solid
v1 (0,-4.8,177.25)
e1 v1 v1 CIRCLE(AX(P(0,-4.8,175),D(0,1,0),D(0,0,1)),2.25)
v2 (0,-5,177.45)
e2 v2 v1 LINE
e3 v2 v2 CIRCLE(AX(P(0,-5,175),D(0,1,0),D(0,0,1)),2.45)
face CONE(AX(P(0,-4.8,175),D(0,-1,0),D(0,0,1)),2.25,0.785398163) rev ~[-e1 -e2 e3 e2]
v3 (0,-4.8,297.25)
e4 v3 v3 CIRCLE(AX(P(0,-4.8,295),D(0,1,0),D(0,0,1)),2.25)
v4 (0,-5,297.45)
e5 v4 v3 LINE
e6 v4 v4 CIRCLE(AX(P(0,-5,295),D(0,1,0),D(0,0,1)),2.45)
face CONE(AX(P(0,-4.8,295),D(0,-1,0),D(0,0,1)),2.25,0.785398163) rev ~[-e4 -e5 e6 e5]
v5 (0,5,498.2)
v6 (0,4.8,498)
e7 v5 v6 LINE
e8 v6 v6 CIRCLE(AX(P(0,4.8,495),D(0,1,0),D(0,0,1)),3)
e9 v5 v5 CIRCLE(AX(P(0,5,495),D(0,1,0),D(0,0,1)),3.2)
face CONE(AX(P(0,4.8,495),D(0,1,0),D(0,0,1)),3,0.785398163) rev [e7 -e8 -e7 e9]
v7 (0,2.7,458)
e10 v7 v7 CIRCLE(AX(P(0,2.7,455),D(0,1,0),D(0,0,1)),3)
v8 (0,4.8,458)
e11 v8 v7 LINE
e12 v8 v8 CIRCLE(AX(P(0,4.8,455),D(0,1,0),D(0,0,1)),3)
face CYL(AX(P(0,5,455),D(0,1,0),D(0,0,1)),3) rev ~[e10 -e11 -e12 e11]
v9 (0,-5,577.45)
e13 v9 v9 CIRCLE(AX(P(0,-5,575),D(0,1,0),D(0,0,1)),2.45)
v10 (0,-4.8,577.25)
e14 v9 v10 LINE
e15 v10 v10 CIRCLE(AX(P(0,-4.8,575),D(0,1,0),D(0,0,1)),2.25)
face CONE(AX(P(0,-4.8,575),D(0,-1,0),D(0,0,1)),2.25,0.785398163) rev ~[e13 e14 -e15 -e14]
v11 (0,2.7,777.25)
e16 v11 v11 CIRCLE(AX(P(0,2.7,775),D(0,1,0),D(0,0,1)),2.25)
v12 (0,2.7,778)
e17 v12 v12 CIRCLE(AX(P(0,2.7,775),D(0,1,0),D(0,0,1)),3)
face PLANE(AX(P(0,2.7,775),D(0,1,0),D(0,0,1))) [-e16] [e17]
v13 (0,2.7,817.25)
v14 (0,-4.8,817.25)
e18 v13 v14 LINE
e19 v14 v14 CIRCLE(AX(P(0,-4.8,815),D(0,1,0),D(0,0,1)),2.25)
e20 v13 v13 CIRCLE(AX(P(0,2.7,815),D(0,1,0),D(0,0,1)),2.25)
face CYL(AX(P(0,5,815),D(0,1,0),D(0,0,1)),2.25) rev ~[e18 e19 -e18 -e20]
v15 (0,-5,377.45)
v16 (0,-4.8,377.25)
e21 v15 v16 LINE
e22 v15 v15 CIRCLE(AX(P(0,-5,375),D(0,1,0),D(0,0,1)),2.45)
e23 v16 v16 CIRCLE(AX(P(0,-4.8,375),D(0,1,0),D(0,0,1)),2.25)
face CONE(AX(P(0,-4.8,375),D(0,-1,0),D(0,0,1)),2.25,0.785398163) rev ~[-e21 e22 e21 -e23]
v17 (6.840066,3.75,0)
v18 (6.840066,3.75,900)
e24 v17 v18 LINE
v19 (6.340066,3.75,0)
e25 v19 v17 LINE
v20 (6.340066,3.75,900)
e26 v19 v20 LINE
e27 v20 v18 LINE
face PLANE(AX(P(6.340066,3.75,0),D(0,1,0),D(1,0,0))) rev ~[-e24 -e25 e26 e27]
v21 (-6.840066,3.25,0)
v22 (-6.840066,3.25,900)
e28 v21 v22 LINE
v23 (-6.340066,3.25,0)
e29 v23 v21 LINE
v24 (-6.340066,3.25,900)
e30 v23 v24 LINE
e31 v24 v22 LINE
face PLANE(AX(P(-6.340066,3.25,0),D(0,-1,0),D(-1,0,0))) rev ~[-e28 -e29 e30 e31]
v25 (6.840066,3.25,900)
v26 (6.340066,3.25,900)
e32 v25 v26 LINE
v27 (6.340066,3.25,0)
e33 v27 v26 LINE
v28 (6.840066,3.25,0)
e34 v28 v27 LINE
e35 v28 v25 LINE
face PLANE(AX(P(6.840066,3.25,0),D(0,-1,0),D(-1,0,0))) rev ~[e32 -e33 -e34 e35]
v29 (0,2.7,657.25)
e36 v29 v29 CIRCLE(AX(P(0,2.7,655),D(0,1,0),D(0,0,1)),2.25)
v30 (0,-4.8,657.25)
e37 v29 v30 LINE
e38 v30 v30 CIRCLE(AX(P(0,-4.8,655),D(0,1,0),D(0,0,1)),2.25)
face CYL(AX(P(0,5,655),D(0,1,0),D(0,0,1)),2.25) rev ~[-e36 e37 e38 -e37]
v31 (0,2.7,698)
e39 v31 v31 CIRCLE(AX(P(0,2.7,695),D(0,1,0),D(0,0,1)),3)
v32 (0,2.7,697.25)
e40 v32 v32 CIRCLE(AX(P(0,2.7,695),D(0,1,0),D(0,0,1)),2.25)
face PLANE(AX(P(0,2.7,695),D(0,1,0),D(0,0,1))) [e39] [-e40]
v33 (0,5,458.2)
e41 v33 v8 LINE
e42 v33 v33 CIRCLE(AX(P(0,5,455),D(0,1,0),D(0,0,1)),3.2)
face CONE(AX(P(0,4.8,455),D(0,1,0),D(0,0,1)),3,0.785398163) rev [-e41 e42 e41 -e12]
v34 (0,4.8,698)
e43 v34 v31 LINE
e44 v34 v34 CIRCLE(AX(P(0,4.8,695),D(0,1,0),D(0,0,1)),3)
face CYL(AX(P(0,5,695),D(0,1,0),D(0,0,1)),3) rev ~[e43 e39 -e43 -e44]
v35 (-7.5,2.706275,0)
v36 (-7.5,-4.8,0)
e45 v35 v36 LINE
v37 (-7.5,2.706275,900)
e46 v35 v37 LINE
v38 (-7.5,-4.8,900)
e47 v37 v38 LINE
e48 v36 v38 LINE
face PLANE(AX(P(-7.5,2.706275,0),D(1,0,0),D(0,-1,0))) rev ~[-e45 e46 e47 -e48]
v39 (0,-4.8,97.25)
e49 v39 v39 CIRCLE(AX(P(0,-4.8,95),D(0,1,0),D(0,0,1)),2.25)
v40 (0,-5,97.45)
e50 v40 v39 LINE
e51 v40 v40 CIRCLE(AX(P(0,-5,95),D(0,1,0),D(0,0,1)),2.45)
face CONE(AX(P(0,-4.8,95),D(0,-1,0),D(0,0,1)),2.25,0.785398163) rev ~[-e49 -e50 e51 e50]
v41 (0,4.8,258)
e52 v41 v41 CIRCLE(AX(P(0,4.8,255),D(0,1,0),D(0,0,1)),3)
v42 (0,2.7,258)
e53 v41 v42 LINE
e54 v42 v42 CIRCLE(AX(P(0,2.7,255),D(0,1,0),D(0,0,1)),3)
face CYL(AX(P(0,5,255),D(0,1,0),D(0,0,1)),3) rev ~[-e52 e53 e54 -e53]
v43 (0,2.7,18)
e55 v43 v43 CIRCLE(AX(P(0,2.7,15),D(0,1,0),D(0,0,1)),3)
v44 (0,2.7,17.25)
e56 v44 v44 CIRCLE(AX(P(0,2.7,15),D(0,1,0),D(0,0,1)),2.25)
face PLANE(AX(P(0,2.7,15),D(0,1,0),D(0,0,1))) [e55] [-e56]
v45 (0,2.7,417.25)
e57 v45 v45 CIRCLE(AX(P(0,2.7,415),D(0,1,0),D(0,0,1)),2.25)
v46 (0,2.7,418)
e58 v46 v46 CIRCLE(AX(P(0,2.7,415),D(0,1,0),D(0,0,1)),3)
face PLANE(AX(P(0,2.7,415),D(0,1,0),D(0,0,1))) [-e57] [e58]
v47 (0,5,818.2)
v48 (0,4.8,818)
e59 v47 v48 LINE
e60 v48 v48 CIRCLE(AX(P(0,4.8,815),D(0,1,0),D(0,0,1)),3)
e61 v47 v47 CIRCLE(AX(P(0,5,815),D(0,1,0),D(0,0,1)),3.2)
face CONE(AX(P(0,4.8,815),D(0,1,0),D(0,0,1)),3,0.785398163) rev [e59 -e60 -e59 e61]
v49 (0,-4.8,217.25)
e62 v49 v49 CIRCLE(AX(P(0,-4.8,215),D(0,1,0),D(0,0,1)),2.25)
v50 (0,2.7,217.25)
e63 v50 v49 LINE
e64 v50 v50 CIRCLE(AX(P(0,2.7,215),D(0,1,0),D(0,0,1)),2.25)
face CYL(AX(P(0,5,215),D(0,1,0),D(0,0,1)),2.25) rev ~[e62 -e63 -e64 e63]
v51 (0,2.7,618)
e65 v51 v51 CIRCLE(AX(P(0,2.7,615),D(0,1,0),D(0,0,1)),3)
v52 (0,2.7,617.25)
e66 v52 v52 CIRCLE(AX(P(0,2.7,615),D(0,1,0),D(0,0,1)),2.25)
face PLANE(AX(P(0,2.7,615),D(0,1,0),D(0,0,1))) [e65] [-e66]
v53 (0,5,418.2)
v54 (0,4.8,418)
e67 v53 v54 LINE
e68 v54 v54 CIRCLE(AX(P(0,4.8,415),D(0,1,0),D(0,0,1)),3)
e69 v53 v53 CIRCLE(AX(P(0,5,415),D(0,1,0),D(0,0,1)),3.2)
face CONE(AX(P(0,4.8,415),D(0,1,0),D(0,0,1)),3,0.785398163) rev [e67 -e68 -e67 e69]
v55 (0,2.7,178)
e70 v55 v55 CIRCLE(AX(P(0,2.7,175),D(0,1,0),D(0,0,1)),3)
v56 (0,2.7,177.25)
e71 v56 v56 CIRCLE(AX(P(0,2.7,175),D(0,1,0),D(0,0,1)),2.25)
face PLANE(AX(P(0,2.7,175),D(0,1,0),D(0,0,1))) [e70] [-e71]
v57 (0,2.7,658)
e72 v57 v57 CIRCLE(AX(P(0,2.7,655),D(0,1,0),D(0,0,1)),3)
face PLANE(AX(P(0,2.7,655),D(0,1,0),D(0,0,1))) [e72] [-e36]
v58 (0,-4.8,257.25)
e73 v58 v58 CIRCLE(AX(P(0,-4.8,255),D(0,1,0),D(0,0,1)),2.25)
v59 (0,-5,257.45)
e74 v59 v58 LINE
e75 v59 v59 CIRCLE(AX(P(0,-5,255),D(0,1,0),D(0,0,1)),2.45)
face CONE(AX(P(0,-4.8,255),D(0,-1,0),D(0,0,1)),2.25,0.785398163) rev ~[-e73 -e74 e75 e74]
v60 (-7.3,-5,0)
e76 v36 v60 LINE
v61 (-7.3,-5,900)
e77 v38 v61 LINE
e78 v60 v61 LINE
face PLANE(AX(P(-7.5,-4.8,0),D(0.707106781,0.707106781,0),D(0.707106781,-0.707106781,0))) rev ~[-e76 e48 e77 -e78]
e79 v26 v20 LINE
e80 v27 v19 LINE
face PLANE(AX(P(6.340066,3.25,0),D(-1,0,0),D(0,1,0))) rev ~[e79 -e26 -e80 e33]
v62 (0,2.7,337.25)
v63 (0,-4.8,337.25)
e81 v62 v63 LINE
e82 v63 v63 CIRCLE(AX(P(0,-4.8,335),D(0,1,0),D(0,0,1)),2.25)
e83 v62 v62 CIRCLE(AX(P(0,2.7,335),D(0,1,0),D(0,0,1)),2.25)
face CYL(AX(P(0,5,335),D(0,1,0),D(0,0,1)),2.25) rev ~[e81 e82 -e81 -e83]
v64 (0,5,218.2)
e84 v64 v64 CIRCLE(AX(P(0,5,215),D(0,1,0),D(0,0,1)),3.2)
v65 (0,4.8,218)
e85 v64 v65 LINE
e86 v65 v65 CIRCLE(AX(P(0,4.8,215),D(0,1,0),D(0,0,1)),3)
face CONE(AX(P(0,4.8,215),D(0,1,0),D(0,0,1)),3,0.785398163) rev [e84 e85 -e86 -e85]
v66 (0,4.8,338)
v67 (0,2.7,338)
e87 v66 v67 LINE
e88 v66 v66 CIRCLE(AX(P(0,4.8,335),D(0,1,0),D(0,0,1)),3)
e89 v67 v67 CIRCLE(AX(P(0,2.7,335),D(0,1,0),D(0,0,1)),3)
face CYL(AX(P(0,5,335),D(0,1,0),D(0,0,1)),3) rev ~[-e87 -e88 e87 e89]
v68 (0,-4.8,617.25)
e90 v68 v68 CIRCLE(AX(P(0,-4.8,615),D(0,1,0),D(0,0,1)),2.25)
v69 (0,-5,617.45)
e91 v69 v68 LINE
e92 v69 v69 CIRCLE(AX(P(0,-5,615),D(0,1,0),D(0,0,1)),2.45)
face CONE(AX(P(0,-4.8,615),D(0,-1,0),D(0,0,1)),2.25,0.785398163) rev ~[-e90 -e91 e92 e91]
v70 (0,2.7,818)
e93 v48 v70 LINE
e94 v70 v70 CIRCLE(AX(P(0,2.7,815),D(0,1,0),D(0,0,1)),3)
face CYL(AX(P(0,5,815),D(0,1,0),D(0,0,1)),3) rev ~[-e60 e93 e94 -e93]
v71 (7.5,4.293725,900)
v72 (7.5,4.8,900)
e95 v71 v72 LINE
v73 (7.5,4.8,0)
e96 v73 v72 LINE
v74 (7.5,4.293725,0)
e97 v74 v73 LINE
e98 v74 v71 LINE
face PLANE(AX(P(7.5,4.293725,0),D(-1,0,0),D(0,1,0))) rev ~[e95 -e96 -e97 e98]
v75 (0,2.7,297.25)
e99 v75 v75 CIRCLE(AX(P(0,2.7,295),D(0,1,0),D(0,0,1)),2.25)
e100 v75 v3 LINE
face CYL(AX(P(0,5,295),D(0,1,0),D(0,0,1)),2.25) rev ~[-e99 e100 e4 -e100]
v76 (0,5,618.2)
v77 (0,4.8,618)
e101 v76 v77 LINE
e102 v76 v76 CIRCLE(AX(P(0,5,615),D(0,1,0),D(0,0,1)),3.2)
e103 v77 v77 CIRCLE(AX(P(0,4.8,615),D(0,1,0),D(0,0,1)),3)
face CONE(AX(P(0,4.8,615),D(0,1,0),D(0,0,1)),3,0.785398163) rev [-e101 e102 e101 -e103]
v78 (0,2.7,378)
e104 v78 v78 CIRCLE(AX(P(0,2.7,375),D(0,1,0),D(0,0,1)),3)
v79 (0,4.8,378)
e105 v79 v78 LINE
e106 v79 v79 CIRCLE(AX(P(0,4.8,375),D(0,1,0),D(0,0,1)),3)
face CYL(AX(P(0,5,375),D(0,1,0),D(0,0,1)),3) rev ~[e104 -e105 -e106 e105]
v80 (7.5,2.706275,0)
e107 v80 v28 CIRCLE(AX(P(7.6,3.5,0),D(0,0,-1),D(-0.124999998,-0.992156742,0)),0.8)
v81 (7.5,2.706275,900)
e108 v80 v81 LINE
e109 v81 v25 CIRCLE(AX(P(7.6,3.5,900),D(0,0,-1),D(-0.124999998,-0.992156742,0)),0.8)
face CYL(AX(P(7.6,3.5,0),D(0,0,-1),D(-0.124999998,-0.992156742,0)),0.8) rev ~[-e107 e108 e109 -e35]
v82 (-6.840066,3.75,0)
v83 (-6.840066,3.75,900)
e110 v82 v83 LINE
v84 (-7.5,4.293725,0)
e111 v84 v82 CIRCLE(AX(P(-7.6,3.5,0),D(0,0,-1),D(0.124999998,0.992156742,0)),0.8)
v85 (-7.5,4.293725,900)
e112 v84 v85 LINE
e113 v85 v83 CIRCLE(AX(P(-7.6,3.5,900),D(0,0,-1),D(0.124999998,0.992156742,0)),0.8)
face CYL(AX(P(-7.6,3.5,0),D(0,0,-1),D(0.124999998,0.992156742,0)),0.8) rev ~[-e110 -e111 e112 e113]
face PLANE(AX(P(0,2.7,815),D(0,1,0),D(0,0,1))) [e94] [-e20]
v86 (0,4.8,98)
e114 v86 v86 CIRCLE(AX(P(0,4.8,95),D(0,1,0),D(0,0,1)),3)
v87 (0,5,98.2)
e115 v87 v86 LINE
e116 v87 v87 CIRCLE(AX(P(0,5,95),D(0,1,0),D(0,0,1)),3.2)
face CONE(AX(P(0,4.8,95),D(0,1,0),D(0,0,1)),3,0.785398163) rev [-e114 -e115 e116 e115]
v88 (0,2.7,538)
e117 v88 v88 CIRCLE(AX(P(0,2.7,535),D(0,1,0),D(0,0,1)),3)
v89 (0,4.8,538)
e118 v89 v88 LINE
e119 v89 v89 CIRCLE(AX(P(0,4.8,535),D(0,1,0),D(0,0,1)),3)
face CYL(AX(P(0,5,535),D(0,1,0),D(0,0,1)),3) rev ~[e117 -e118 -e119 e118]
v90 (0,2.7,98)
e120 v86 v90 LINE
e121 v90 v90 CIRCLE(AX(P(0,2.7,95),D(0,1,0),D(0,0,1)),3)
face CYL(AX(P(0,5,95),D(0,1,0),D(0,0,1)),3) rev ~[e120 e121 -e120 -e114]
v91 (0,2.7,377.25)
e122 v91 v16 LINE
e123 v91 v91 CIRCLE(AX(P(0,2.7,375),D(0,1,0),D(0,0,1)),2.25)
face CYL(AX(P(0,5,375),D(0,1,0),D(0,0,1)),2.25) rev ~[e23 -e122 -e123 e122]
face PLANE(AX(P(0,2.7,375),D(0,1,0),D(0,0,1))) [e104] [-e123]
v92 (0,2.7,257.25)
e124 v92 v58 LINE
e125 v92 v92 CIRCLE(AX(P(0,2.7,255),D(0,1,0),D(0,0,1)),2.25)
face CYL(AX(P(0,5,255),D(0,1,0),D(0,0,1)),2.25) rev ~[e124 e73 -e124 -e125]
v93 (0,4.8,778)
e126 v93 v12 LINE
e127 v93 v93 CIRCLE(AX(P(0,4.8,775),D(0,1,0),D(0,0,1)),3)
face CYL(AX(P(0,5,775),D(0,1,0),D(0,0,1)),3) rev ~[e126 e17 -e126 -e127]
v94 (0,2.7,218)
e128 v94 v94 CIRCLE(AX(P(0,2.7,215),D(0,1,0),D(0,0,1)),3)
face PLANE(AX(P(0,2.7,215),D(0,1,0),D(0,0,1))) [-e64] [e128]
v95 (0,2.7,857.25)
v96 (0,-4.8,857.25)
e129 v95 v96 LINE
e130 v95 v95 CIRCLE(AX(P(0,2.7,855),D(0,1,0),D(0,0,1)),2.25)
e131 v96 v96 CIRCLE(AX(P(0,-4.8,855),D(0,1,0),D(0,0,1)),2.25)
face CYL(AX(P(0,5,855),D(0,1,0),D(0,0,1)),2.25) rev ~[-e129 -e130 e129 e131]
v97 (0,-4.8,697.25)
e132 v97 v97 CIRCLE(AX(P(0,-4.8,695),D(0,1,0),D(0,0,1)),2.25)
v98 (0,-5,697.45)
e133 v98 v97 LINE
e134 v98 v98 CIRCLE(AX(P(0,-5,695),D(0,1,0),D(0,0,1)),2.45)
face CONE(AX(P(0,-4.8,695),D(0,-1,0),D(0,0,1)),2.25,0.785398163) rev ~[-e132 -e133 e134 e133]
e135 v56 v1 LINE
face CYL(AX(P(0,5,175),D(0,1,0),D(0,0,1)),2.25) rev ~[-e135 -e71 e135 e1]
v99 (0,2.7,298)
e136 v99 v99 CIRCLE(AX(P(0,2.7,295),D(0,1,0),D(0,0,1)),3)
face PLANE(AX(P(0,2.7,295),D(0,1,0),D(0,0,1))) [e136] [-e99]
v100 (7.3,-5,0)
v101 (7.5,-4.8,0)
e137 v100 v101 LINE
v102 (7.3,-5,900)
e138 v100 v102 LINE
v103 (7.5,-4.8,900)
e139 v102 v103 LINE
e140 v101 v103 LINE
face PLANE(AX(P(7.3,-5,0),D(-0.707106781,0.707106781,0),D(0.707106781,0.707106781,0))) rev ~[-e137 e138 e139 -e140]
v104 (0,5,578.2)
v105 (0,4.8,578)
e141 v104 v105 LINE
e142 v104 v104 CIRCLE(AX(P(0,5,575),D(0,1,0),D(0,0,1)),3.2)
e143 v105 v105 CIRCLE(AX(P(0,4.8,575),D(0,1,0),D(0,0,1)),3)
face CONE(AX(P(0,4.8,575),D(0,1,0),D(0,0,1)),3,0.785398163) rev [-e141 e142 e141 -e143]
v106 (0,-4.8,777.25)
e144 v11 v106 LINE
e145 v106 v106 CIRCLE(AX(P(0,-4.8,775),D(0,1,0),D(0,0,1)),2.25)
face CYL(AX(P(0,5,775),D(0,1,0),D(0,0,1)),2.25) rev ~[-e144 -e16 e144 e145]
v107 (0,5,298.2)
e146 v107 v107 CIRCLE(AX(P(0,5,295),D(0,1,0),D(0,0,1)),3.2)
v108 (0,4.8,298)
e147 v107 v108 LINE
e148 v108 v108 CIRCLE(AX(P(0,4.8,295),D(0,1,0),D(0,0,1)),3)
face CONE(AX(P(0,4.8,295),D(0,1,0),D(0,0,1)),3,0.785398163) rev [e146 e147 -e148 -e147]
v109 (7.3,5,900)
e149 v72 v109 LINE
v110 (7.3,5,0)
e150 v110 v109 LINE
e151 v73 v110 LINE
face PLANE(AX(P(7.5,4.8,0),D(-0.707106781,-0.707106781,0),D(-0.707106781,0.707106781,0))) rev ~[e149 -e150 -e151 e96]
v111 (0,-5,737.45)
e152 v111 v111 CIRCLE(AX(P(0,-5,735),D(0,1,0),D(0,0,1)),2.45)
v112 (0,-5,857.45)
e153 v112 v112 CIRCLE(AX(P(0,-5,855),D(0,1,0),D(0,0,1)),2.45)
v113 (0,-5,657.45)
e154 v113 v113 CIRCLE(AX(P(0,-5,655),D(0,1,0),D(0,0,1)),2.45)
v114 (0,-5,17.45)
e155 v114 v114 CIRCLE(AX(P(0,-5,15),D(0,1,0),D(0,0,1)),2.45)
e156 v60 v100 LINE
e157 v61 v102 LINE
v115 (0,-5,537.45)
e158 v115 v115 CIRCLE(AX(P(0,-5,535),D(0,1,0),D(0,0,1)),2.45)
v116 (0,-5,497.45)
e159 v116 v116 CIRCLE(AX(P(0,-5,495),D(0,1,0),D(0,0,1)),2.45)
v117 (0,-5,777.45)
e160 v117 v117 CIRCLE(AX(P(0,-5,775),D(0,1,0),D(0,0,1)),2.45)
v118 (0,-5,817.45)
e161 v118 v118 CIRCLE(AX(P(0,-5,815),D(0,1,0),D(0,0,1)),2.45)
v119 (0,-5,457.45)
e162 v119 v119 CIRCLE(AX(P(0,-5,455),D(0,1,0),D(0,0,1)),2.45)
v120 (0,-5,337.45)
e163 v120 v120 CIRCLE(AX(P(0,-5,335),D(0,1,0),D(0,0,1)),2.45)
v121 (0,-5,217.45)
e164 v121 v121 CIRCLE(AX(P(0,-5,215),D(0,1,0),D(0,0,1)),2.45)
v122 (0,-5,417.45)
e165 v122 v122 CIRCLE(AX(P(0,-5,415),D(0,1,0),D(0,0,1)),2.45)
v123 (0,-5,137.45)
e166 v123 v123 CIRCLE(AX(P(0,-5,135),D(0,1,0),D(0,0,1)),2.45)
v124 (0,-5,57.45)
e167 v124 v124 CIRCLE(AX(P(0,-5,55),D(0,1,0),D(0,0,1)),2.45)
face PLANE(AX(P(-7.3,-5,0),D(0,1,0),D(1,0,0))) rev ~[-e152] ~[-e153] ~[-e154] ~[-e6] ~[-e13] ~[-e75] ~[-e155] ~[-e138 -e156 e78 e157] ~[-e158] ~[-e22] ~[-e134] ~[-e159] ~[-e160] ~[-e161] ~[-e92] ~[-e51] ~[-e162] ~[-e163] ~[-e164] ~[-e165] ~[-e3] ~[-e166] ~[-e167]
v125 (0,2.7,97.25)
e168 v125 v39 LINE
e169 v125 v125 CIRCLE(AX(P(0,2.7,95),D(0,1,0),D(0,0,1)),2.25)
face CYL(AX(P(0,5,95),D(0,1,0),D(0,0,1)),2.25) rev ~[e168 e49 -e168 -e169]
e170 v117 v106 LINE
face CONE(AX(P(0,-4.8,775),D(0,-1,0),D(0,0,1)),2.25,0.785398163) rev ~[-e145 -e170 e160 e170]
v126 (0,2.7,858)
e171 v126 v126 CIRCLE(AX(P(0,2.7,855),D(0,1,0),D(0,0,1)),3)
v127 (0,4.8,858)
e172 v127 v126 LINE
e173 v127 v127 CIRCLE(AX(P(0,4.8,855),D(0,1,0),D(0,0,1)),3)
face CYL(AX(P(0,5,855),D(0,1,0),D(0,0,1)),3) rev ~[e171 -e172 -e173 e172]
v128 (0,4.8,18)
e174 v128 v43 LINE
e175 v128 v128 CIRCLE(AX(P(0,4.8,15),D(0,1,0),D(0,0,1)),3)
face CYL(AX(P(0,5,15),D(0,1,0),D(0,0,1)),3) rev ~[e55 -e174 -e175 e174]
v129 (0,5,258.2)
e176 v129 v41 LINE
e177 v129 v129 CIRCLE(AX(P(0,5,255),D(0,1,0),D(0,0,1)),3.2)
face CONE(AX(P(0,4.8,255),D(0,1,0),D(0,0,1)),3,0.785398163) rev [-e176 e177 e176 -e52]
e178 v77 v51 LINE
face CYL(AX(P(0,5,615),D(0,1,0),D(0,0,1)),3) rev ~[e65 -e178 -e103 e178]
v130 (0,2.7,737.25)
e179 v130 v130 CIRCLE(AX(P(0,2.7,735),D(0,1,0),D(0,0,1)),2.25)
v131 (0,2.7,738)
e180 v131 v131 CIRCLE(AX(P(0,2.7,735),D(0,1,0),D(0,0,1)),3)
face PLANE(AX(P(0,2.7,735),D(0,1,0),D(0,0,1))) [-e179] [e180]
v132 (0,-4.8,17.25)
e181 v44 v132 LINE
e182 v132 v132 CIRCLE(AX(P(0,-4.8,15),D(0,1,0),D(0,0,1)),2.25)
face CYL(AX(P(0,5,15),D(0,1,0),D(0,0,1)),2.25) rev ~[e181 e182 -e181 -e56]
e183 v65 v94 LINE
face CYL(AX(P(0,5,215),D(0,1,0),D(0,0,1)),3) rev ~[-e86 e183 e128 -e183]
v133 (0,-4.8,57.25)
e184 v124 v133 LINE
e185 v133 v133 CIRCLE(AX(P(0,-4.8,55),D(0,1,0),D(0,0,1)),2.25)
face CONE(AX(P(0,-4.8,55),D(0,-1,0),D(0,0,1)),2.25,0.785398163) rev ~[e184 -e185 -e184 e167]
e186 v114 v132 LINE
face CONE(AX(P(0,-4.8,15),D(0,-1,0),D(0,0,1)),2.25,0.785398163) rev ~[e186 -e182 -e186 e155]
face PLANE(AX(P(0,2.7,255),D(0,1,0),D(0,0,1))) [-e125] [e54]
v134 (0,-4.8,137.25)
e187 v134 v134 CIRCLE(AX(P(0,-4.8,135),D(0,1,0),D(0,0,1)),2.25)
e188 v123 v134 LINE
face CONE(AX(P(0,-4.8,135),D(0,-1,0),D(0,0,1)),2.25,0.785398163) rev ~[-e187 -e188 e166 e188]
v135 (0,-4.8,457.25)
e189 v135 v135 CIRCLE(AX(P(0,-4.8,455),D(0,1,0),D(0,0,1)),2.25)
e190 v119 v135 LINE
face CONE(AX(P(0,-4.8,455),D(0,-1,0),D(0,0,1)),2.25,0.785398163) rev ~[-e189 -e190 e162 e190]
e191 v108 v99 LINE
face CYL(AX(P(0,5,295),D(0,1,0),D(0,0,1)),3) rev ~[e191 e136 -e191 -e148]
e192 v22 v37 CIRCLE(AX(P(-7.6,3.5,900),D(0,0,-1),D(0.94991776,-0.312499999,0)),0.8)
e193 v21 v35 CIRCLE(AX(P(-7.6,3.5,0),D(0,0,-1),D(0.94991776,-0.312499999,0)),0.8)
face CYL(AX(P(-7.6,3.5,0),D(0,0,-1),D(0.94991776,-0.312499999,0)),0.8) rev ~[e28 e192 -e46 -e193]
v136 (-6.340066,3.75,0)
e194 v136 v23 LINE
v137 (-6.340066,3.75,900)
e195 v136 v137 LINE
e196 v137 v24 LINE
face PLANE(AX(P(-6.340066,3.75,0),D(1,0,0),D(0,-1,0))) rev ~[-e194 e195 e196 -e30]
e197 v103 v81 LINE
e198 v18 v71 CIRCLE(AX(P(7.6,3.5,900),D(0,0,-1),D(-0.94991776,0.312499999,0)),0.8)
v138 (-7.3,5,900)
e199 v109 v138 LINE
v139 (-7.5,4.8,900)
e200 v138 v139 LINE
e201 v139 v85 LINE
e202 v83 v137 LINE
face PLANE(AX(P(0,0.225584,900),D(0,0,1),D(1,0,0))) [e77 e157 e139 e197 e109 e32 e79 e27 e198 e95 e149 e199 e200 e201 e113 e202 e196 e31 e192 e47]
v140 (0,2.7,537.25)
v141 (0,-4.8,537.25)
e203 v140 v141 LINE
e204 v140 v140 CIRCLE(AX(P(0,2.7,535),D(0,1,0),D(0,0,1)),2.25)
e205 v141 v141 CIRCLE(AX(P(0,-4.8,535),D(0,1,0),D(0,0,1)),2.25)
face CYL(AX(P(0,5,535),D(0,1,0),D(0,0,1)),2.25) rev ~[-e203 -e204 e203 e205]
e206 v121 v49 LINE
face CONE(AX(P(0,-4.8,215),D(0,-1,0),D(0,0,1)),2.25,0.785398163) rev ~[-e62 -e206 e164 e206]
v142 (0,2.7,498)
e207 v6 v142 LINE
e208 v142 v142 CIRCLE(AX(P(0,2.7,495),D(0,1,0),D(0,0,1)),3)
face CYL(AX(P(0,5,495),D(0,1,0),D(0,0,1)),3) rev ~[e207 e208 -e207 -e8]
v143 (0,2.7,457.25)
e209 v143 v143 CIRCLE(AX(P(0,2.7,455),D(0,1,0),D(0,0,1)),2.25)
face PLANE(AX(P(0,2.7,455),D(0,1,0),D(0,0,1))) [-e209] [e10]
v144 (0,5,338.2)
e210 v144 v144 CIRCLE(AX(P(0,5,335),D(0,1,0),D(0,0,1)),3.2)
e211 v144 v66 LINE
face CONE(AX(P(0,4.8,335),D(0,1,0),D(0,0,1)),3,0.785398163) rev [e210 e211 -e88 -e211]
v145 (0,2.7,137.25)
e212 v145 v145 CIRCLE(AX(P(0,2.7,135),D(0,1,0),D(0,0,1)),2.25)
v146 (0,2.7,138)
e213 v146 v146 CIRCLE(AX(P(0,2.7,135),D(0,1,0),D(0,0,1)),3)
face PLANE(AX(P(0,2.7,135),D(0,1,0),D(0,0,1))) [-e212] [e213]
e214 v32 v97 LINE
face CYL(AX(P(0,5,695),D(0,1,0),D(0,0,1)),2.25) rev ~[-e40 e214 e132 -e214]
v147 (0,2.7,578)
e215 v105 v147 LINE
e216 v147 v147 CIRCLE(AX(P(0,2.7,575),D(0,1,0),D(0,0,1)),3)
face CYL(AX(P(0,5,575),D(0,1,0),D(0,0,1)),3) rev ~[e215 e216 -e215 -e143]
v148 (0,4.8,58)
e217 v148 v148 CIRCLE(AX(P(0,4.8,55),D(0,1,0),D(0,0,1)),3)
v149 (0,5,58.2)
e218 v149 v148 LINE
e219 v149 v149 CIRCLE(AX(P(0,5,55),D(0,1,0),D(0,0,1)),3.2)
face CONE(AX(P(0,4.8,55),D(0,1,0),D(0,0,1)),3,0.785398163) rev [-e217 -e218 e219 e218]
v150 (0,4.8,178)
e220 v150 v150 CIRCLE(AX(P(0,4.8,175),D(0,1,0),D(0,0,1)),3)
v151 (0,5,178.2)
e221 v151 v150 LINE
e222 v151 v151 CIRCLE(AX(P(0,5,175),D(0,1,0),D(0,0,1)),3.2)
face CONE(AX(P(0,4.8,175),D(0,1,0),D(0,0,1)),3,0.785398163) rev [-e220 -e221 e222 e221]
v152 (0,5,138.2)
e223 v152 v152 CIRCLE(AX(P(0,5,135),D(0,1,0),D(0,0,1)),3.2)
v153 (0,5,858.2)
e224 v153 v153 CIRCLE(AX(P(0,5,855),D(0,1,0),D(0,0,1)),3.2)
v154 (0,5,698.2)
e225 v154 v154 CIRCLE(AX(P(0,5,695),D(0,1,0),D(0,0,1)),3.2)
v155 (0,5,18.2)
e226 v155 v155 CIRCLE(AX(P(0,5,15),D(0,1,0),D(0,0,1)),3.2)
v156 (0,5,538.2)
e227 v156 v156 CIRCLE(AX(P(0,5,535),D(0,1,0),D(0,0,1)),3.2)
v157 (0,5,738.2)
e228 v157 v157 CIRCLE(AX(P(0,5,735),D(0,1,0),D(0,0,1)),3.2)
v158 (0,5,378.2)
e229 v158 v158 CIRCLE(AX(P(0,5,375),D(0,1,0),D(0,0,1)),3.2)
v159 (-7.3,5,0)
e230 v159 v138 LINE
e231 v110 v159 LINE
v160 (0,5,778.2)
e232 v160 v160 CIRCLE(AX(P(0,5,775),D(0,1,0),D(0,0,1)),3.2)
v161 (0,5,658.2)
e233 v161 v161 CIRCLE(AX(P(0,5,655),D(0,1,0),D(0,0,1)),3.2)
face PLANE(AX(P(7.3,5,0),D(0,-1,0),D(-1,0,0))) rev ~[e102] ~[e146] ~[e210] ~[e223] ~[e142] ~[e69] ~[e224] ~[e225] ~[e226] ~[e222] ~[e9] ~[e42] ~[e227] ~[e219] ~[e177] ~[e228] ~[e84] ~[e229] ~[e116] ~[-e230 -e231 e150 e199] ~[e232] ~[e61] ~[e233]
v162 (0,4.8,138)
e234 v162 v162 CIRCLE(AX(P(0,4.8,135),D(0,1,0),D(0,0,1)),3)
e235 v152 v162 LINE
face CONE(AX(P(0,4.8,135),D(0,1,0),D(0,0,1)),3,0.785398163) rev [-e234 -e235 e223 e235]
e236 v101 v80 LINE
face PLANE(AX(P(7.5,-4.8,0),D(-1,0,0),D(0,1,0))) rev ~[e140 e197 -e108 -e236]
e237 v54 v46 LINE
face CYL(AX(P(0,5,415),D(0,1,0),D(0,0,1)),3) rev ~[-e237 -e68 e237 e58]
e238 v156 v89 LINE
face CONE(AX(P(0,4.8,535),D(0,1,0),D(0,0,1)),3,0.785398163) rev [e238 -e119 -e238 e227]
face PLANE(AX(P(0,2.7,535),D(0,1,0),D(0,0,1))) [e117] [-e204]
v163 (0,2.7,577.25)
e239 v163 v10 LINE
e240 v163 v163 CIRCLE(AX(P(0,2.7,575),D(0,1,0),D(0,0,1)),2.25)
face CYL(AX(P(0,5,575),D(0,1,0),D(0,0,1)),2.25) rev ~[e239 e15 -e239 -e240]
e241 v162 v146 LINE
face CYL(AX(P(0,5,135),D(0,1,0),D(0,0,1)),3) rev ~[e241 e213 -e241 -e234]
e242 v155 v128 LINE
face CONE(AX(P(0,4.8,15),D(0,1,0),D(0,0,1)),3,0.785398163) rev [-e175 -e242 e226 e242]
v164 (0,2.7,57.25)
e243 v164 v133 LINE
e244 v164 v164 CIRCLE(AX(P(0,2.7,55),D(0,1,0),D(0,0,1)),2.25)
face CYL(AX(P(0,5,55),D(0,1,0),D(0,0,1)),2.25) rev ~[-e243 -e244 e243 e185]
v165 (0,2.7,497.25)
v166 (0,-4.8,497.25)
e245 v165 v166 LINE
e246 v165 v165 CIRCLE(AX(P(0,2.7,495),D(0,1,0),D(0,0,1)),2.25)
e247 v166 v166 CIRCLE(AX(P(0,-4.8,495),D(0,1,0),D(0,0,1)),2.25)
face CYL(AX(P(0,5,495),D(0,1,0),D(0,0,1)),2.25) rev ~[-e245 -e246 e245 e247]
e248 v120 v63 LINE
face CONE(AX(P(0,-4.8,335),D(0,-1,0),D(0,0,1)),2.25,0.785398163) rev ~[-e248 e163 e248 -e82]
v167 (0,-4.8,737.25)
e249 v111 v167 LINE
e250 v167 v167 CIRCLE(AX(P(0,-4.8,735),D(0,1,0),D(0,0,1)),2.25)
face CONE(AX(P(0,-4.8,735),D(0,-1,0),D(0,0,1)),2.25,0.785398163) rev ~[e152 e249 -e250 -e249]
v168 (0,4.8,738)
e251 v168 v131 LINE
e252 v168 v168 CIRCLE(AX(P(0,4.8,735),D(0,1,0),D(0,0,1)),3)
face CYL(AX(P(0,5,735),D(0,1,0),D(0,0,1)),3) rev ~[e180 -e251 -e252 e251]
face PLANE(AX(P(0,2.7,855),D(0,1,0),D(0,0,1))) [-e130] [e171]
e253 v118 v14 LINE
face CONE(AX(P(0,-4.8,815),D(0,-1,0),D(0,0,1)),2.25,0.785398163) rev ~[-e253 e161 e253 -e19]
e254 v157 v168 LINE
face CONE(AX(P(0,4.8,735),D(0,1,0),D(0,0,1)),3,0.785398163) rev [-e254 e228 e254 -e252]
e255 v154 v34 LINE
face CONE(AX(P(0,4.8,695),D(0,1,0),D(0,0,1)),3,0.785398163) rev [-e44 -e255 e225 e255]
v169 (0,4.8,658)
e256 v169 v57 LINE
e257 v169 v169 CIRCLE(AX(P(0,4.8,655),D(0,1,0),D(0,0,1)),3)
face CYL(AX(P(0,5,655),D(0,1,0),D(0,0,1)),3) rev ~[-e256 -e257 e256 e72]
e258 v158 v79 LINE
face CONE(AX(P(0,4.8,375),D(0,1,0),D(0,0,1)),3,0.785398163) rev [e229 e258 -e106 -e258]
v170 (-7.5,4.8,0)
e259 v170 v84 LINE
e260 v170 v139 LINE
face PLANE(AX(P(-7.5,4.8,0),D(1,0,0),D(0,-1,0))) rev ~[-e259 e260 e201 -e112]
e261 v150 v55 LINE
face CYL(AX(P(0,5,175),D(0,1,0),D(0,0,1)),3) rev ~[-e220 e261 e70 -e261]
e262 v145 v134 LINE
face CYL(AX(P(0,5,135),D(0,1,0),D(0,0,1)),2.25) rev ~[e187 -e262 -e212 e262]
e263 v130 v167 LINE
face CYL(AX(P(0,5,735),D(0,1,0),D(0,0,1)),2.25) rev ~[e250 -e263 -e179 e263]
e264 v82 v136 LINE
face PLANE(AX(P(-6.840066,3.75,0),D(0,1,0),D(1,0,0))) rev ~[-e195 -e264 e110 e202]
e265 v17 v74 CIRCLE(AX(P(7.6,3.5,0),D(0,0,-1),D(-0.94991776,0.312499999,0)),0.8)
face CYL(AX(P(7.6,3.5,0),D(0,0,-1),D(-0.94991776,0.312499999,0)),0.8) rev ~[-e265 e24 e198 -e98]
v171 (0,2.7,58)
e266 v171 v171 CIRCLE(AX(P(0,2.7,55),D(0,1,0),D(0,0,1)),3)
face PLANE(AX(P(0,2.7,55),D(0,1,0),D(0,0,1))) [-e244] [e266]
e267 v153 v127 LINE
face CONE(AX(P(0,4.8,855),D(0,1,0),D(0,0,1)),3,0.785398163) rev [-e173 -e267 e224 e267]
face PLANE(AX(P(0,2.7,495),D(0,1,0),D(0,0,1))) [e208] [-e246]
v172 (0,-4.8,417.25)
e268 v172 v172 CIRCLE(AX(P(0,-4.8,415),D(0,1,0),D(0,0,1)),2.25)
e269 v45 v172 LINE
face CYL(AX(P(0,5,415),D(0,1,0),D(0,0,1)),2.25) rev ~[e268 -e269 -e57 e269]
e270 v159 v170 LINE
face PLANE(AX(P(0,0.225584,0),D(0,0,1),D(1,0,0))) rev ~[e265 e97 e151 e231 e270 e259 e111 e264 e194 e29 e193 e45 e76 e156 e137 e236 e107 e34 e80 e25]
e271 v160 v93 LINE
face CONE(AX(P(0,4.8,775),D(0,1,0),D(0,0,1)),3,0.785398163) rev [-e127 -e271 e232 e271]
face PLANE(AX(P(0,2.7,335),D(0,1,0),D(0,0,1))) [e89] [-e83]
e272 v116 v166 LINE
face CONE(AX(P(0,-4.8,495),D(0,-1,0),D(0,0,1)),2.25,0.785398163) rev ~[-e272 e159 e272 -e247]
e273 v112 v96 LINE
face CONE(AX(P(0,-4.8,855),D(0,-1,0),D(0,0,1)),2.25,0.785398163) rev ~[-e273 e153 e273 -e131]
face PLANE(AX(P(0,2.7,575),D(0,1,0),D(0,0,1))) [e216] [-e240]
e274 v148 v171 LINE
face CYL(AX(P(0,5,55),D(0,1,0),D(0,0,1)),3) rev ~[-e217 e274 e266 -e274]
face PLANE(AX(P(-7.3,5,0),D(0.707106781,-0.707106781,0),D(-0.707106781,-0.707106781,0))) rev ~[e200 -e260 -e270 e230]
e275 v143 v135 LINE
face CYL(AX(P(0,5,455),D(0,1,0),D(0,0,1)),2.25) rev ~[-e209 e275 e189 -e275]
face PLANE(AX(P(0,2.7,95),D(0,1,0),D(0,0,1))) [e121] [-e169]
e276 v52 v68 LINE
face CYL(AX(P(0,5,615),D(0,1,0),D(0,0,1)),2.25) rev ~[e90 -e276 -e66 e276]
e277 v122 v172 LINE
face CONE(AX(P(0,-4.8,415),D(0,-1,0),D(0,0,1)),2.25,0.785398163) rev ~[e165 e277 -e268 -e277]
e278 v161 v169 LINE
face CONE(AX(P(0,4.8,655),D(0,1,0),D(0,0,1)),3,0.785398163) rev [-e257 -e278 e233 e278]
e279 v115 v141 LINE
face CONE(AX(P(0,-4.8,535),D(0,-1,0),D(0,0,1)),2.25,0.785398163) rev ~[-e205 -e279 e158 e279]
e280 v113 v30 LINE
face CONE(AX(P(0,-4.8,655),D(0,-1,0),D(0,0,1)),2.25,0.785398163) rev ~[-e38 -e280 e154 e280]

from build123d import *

# Parameters (mm, degrees)
EXTRUDE1_DEPTH             = 900
EXTRUDE2_REACH             = 902.087
SKETCH2_R                  = 2.25
SKETCH_R                   = 3
SKETCH_R_2                 = 2.25
EXTRUDE4_DEPTH             = 2.3
CHAMFER1_SIZE              = 0.2
LPATTERN1_COUNT            = 22
LPATTERN1_PITCH            = 40
CHAMFER1_OF_LPATTERN1_SIZE = 0.2


with BuildPart() as part:
    # Sketch1 → Extrude1 (new body)
    with BuildSketch(Plane.XY):
        with BuildLine():
            Line((-7.3, -5), (7.3, -5))
            Line((7.3, -5), (7.5, -4.8))
            Line((7.5, -4.8), (7.5, 2.706274607))
            ThreePointArc((7.5, 2.706274607), (7.091294745, 2.882570681), (6.840065792, 3.25))
            Line((6.840065792, 3.25), (6.340065792, 3.25))
            Line((6.340065792, 3.25), (6.340065792, 3.75))
            Line((6.340065792, 3.75), (6.840065792, 3.75))
            ThreePointArc((6.840065792, 3.75), (7.091294745, 4.117429319), (7.5, 4.293725393))
            Line((7.5, 4.293725393), (7.5, 4.8))
            Line((7.5, 4.8), (7.3, 5))
            Line((7.3, 5), (-7.3, 5))
            Line((-7.3, 5), (-7.5, 4.8))
            Line((-7.5, 4.8), (-7.5, 4.293725393))
            ThreePointArc((-7.5, 4.293725393), (-7.091294745, 4.117429319), (-6.840065792, 3.75))
            Line((-6.840065792, 3.75), (-6.340065792, 3.75))
            Line((-6.340065792, 3.75), (-6.340065792, 3.25))
            Line((-6.340065792, 3.25), (-6.840065792, 3.25))
            ThreePointArc((-6.840065792, 3.25), (-7.091294745, 2.882570681), (-7.5, 2.706274607))
            Line((-7.5, 2.706274607), (-7.5, -4.8))
            Line((-7.5, -4.8), (-7.3, -5))
        make_face()
    extrude(amount=EXTRUDE1_DEPTH)

    # Sketch2 → Extrude2 (cut, up to next)
    with BuildSketch(Plane(origin=(0, 5, 0), x_dir=(1, 0, 0), z_dir=(0, 1, 0)), mode=Mode.PRIVATE) as extrude2_sk1:
        with Locations((0, -15)):
            Circle(SKETCH2_R)
    extrude2_tool1 = extrude(extrude2_sk1.sketch, amount=-EXTRUDE2_REACH, mode=Mode.PRIVATE) & part.part
    extrude2 = extrude2_tool1.solids().sort_by_distance((0, 5, 15))[0]
    add(extrude2, mode=Mode.SUBTRACT)

    # Sketch → Extrude4 (cut)
    with BuildSketch(Plane(origin=(0, 5, 0), x_dir=(1, 0, 0), z_dir=(0, 1, 0))):
        with Locations((0, -15)):
            Circle(SKETCH_R)
        with Locations((0, -15)):
            Circle(SKETCH_R_2, mode=Mode.SUBTRACT)
    extrude4 = extrude(amount=-EXTRUDE4_DEPTH, mode=Mode.SUBTRACT)

    # Chamfer1
    chamfer1_edges = [part.edges().sort_by_distance(p)[0] for p in [
        (-2.25, -5, 15),
        (-3, 5, 15),
    ]]
    chamfer(chamfer1_edges, length=CHAMFER1_SIZE)

    # LPattern1: Extrude2, Extrude4 ×22
    with Locations(*[(0, 0, i * LPATTERN1_PITCH) for i in range(1, LPATTERN1_COUNT)]):
        add(extrude2, mode=Mode.SUBTRACT)
        add(extrude4, mode=Mode.SUBTRACT)

    # Chamfer1 of LPattern1
    chamfer1_of_lpattern1_edges = [part.edges().sort_by_distance(p)[0] for p in [
        (-2.25, -5, 55),
        (-3, 5, 55),
        (-2.25, -5, 95),
        (-3, 5, 95),
        (-2.25, -5, 135),
        (-3, 5, 135),
        (-2.25, -5, 175),
        (-3, 5, 175),
        (-2.25, -5, 215),
        (-3, 5, 215),
        (-2.25, -5, 255),
        (-3, 5, 255),
        (-2.25, -5, 295),
        (-3, 5, 295),
        (-2.25, -5, 335),
        (-3, 5, 335),
        (-2.25, -5, 375),
        (-3, 5, 375),
        (-2.25, -5, 415),
        (-3, 5, 415),
        (-2.25, -5, 455),
        (-3, 5, 455),
        (-2.25, -5, 495),
        (-3, 5, 495),
        (-2.25, -5, 535),
        (-3, 5, 535),
        (-2.25, -5, 575),
        (-3, 5, 575),
        (-2.25, -5, 615),
        (-3, 5, 615),
        (-2.25, -5, 655),
        (-3, 5, 655),
        (-2.25, -5, 695),
        (-3, 5, 695),
        (-2.25, -5, 735),
        (-3, 5, 735),
        (-2.25, -5, 775),
        (-3, 5, 775),
        (-2.25, -5, 815),
        (-3, 5, 815),
        (-2.25, -5, 855),
        (-3, 5, 855),
    ]]
    chamfer(chamfer1_of_lpattern1_edges, length=CHAMFER1_OF_LPATTERN1_SIZE)


solid = part.part
